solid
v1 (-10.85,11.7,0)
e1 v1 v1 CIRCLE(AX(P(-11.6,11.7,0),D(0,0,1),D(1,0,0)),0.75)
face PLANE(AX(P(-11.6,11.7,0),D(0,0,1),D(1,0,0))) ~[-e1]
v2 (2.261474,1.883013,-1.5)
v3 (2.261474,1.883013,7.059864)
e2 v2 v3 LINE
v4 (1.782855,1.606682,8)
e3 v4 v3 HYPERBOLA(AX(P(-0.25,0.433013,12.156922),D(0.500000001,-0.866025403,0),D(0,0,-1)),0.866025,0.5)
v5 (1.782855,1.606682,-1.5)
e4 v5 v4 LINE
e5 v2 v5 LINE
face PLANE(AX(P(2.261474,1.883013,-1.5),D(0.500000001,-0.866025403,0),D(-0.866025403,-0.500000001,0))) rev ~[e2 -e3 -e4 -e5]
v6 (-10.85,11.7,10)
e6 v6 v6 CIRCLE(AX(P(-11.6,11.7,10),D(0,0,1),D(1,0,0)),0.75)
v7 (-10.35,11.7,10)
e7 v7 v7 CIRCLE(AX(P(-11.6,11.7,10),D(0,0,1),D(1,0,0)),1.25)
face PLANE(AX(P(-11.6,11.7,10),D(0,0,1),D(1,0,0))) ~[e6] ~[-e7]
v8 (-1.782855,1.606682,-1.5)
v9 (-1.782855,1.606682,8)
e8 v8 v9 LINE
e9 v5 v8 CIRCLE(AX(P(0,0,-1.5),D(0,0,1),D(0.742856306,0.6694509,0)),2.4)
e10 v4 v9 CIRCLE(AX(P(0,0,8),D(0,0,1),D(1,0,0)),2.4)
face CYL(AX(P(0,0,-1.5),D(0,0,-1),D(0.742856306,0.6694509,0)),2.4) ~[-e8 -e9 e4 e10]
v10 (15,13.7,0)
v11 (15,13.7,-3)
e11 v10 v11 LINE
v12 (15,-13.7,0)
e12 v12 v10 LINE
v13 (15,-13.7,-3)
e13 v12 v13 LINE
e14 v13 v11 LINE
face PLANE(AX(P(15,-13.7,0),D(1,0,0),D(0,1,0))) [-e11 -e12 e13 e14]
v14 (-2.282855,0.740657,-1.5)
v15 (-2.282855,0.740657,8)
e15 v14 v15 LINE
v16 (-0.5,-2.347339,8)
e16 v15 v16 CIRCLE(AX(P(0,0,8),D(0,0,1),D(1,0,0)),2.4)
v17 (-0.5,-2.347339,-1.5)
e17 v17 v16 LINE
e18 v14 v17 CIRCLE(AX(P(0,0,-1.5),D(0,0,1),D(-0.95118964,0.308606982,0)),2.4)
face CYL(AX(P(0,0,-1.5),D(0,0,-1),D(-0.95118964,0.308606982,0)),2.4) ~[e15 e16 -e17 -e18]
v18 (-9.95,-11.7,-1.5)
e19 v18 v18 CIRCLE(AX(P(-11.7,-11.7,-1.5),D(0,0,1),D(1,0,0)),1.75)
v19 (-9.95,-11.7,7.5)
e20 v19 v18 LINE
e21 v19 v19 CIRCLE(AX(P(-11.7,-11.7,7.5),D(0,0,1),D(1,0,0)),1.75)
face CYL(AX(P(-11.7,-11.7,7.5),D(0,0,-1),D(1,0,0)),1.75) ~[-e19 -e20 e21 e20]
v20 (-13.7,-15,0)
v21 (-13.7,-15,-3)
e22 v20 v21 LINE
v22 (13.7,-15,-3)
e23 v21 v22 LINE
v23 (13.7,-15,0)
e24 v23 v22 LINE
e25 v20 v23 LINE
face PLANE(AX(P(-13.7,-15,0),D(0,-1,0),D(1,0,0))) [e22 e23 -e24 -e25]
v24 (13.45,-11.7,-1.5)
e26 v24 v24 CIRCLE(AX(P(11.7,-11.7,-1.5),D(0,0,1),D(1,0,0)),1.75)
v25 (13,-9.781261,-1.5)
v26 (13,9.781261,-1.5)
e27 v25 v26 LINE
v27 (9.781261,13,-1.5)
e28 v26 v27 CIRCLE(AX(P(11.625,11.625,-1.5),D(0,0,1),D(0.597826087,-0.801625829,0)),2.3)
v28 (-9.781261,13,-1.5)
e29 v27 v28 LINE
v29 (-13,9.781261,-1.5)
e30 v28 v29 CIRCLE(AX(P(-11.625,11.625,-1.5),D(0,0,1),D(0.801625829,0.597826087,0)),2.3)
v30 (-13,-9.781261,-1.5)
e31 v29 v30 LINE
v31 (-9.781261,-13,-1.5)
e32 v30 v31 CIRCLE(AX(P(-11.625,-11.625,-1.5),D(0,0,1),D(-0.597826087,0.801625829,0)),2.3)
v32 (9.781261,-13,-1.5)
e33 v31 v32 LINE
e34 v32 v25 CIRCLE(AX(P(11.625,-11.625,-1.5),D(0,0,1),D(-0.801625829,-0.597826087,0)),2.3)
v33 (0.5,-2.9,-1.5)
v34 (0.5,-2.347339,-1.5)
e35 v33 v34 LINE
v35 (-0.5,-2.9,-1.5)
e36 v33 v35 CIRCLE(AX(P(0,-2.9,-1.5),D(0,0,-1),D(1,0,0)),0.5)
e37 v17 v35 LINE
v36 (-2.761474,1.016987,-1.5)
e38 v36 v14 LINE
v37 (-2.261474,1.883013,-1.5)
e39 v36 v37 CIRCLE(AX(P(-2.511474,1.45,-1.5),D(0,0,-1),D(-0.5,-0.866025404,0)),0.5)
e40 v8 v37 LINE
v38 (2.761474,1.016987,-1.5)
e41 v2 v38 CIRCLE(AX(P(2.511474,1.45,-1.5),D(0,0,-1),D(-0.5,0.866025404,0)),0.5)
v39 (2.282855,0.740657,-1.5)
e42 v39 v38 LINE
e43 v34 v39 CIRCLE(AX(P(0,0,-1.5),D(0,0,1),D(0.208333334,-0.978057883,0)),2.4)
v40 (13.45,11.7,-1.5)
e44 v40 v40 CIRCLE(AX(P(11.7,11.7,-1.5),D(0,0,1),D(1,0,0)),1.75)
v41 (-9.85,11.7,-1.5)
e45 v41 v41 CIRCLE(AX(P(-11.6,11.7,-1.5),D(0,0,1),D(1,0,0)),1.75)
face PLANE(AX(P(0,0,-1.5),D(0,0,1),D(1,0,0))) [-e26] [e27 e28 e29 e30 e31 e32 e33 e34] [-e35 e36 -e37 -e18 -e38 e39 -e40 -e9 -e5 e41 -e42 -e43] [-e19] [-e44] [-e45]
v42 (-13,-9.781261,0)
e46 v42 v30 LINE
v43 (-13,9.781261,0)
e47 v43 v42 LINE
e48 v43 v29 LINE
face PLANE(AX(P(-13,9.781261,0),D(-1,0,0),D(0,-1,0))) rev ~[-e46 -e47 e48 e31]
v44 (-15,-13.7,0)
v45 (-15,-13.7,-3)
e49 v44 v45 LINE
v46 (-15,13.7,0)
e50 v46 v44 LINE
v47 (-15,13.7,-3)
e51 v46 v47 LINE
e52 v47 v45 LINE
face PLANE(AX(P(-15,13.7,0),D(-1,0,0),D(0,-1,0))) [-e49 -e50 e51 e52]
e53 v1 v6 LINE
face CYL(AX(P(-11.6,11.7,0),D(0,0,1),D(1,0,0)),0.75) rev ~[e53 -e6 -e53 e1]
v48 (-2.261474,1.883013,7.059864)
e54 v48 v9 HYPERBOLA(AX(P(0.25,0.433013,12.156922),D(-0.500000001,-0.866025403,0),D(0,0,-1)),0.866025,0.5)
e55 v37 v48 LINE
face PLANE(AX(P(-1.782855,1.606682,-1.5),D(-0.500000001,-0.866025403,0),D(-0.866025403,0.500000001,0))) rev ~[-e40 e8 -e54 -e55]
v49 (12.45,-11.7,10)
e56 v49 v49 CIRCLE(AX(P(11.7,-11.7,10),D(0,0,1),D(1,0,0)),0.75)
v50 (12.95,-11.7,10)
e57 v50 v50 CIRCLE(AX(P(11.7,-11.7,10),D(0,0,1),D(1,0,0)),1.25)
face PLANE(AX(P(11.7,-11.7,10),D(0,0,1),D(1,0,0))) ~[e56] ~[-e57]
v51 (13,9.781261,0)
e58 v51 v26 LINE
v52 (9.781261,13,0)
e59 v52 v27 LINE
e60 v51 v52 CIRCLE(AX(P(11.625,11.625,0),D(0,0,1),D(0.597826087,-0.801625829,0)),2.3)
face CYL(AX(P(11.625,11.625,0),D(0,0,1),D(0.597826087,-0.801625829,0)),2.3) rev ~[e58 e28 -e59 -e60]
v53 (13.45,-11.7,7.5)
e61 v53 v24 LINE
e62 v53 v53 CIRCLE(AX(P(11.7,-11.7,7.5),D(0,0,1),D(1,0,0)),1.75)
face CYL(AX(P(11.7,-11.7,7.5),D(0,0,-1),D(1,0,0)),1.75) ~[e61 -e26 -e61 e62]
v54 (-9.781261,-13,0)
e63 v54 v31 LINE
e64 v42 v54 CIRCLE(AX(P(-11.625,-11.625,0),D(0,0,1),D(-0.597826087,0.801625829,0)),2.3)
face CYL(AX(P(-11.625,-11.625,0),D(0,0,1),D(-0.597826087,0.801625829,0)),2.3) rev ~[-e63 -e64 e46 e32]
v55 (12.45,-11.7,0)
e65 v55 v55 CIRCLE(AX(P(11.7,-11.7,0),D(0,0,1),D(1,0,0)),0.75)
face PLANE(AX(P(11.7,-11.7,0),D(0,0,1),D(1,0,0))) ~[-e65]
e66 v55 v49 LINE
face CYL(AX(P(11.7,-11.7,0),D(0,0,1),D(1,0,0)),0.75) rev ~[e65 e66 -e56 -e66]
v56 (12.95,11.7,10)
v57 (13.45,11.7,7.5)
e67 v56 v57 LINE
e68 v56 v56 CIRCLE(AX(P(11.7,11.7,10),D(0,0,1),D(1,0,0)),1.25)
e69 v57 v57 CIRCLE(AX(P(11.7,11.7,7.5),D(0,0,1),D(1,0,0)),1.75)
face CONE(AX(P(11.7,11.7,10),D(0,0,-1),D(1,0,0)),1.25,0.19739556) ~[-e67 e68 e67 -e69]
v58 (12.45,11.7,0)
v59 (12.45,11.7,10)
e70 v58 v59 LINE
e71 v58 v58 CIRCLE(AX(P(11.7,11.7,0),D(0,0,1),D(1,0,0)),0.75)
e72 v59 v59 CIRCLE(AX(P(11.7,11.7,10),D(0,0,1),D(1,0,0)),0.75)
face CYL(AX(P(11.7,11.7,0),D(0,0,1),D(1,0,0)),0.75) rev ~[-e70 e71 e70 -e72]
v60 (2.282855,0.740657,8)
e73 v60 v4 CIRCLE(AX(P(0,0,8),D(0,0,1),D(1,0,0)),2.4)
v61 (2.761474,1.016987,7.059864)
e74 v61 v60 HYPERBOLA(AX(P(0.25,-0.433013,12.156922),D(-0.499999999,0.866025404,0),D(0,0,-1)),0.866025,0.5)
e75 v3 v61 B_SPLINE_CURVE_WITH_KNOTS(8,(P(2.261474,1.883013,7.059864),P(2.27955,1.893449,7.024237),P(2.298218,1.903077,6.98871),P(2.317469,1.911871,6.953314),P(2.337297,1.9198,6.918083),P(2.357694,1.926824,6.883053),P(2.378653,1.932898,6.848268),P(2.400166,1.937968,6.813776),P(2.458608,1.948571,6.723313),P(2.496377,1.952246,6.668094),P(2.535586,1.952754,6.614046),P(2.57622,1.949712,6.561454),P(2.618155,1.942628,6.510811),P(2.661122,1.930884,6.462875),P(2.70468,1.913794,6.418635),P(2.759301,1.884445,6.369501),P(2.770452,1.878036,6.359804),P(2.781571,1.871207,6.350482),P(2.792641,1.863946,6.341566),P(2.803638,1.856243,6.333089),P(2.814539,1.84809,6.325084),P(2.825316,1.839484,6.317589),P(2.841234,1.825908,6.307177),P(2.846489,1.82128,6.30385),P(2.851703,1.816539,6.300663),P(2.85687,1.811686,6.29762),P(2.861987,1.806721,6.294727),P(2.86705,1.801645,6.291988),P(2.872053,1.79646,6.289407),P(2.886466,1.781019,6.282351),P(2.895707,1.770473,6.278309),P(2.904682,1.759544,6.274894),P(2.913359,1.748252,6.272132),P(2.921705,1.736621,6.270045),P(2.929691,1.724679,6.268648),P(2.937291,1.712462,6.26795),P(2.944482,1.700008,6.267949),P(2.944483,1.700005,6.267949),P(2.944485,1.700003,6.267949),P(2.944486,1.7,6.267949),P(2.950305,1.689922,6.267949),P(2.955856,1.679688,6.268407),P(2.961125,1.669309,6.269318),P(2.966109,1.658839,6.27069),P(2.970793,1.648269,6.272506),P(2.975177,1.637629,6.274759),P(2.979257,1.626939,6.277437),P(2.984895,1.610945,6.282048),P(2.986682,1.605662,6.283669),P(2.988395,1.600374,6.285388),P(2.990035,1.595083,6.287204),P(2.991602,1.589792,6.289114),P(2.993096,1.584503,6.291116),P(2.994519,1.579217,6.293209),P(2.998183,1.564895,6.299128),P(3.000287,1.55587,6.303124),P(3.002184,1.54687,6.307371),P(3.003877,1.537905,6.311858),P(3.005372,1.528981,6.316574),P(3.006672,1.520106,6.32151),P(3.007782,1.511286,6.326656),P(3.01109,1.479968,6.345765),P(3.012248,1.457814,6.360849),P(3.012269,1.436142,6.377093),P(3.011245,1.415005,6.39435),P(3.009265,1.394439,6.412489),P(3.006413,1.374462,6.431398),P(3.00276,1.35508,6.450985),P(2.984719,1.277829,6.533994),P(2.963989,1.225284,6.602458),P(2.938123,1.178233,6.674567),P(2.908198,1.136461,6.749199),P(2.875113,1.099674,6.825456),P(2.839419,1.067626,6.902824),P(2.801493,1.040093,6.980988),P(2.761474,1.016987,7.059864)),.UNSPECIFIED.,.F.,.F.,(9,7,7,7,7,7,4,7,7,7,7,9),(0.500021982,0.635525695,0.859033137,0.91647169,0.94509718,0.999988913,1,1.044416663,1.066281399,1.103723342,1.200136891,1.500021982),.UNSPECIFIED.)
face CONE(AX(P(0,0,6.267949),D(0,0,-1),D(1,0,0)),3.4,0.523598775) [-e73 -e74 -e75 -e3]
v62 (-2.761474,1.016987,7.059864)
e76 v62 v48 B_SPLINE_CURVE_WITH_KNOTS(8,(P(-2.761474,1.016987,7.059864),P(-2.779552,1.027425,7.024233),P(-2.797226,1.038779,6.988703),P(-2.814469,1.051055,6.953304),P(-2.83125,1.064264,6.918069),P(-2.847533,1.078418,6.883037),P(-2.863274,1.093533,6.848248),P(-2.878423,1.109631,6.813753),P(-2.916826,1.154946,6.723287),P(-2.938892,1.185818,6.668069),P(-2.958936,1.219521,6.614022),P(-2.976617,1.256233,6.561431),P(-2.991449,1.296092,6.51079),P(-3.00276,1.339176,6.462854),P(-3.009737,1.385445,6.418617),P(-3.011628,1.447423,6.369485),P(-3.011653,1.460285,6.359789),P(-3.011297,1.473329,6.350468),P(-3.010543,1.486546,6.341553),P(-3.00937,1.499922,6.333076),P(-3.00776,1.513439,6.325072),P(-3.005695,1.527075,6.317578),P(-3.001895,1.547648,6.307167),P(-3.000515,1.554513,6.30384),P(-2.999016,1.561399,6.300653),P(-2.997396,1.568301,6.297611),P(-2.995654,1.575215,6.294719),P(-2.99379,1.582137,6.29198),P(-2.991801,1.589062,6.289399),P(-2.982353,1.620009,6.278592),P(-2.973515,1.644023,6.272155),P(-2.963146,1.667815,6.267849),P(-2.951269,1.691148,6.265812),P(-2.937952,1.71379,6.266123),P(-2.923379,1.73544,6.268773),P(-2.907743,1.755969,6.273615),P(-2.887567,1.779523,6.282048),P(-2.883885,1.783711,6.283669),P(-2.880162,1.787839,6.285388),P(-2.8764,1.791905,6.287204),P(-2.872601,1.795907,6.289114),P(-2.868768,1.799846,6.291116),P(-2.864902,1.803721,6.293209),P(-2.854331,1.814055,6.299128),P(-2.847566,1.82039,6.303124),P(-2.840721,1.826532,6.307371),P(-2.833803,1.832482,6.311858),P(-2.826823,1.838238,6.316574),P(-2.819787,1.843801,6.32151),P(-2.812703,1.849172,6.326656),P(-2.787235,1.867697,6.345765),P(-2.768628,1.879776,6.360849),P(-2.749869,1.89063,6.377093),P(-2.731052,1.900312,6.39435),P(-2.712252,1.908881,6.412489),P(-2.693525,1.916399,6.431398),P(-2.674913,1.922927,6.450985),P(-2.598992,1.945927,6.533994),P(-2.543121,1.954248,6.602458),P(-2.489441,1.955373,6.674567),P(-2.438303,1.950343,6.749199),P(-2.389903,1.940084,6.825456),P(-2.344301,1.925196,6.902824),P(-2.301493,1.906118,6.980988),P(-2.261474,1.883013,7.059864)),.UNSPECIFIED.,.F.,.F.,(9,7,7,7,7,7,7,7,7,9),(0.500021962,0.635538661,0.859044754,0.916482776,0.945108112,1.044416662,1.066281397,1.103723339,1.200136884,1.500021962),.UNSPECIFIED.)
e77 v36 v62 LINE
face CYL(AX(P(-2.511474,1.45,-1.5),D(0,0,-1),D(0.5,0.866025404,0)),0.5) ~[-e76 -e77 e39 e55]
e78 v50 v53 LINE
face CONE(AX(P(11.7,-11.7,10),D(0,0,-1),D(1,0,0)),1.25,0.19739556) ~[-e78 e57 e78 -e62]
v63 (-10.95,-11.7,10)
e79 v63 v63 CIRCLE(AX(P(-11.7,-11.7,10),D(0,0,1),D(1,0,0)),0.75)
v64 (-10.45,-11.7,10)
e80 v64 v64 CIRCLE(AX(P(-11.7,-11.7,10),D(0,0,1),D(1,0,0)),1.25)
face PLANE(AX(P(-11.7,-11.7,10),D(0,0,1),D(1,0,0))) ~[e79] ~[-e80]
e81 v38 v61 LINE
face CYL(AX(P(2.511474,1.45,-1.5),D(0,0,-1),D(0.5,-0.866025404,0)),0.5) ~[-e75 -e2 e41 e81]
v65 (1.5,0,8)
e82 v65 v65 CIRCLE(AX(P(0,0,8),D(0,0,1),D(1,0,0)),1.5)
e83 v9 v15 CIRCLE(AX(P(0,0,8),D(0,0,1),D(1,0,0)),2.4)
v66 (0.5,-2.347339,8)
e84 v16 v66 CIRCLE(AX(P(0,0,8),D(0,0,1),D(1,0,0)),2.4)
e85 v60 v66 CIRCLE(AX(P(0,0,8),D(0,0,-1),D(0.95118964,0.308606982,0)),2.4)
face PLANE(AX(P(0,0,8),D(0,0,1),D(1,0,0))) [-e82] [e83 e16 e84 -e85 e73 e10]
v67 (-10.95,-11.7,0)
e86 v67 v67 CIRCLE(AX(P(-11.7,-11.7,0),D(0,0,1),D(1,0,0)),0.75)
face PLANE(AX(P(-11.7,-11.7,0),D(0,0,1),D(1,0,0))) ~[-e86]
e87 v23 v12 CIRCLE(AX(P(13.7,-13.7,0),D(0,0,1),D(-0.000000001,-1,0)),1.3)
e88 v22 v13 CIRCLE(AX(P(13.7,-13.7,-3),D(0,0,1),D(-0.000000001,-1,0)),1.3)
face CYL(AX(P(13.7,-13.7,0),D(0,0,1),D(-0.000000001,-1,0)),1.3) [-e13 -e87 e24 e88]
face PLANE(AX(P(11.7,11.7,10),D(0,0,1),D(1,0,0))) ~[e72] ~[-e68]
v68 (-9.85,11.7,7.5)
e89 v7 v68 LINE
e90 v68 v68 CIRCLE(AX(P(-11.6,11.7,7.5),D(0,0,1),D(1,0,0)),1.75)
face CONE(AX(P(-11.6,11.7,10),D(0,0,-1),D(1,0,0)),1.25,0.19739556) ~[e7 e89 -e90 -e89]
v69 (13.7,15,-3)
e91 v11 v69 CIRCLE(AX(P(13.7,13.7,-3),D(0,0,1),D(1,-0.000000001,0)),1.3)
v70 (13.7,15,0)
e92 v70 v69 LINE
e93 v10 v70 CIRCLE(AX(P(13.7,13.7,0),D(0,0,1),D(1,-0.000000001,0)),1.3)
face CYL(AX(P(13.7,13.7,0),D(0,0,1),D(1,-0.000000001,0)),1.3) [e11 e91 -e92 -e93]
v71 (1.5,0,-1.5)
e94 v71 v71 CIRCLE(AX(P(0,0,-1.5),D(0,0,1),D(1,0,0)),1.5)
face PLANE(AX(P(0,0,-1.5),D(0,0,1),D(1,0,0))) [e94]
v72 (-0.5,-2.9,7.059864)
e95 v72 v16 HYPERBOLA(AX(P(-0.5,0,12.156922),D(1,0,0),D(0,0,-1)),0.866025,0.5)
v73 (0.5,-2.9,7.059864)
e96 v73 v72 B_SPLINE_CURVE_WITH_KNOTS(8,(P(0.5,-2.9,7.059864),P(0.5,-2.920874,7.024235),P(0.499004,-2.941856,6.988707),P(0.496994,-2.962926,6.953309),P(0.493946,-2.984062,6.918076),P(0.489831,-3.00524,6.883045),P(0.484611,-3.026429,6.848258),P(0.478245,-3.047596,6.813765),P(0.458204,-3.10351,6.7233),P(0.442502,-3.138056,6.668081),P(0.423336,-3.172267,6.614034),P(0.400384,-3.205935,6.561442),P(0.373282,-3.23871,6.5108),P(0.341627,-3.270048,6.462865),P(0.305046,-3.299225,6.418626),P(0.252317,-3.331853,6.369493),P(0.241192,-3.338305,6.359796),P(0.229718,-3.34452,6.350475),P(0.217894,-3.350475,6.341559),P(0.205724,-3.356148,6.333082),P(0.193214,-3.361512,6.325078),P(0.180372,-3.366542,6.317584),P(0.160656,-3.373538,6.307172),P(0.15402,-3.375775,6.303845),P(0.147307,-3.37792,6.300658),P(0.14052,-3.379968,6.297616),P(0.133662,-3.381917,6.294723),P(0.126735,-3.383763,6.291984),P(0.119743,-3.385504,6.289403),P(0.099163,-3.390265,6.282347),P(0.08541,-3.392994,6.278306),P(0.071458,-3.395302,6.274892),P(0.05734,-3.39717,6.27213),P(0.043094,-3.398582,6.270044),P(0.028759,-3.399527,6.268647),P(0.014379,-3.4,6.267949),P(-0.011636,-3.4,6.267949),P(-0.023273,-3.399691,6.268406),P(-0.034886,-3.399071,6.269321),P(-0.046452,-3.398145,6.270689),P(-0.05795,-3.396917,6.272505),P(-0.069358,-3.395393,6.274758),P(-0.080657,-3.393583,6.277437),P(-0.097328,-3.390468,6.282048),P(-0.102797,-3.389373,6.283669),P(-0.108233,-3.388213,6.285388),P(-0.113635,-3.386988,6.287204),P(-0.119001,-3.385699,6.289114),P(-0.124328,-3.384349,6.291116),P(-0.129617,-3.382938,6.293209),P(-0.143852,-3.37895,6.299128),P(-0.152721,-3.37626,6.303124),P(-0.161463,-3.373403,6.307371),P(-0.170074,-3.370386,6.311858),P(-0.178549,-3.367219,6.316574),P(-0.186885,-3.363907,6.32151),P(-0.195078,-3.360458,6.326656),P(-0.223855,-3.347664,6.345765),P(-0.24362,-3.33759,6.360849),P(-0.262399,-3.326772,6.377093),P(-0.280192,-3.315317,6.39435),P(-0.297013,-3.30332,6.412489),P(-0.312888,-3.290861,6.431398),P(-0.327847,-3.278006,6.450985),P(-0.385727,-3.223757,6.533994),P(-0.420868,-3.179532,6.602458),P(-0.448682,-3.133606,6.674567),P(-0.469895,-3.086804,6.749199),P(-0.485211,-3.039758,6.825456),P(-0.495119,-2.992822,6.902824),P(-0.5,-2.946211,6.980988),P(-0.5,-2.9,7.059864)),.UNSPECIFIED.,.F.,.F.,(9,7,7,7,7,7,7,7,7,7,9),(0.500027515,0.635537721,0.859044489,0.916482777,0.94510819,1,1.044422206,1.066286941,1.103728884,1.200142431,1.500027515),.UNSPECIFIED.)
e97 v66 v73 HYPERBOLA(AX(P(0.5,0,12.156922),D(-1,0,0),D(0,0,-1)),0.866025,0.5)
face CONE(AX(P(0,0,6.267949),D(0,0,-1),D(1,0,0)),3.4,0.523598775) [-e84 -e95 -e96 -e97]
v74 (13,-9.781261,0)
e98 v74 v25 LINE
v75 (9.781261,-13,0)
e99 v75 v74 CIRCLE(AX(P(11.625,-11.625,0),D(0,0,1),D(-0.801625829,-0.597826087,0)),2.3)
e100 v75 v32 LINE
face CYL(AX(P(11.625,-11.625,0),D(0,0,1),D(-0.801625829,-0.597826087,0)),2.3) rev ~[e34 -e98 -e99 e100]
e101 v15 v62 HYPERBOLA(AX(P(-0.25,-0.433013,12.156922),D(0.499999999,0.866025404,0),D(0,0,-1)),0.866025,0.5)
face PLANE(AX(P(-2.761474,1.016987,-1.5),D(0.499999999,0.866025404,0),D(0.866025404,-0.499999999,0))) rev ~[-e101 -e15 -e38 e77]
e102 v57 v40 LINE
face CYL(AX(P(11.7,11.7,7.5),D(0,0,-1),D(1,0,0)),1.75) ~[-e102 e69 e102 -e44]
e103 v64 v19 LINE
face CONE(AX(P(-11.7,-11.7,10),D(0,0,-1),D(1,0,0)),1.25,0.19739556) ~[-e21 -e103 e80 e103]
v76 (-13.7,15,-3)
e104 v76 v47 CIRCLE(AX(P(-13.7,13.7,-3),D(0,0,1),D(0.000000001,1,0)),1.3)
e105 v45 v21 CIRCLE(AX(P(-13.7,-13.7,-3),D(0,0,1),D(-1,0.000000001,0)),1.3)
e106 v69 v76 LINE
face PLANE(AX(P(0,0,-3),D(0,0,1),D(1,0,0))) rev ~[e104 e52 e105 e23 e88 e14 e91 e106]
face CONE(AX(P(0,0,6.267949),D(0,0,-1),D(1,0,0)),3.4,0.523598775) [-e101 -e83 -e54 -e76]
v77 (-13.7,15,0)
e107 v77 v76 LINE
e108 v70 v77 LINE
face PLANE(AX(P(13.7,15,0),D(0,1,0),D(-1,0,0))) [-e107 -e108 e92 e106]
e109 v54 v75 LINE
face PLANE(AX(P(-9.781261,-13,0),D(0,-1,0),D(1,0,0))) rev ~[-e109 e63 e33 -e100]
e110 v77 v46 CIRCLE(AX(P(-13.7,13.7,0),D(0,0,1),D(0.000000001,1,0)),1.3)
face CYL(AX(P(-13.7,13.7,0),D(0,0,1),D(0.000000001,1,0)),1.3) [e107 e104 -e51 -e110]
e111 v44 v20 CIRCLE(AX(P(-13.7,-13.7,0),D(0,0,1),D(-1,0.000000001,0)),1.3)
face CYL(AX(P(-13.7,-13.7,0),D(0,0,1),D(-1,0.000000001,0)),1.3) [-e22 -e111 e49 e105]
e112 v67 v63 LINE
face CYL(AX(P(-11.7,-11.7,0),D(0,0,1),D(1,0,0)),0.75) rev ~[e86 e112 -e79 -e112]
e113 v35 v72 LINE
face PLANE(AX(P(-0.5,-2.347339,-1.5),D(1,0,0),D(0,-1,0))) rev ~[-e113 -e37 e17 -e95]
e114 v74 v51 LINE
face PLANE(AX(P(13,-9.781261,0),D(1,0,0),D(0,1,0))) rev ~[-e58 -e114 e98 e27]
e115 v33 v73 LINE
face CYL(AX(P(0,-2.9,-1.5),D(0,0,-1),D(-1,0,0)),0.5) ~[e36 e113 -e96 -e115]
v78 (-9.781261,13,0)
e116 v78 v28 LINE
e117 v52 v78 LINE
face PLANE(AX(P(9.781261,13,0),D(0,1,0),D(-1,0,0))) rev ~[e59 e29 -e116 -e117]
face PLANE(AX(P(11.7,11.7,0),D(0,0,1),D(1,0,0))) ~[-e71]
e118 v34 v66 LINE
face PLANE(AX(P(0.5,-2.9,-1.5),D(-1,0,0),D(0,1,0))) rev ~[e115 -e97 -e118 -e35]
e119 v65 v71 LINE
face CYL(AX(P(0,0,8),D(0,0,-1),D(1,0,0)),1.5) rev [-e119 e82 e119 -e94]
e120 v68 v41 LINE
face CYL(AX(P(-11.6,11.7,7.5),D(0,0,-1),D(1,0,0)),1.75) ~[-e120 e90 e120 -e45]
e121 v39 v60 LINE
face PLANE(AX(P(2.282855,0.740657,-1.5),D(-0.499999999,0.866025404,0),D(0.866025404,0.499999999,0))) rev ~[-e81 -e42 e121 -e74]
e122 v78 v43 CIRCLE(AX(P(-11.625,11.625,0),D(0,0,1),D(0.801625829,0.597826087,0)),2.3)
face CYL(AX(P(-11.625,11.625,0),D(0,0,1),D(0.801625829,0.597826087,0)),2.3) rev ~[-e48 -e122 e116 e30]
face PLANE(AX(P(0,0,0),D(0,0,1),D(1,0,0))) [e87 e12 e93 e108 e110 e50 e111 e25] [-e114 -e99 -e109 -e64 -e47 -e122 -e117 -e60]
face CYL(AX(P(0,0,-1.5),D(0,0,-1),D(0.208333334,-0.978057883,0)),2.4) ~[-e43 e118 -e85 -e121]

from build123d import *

# Parameters (mm, degrees)
BOSS_EXTRUDE1_DEPTH = 3
CUT_EXTRUDE1_DEPTH  = 1.5
SKETCH8_R           = 6
CUT_EXTRUDE2_DEPTH  = 10


with BuildPart() as part:
    # Sketch1 → Boss-Extrude1 (new body)
    with BuildSketch(Plane.XY):
        with BuildLine():
            Line((-15, 13.7), (-15, -13.7))
            ThreePointArc((-15, -13.7), (-14.619238816, -14.619238816), (-13.7, -15))
            Line((-13.7, -15), (13.7, -15))
            ThreePointArc((13.7, -15), (14.619238816, -14.619238816), (15, -13.7))
            Line((15, -13.7), (15, 13.7))
            ThreePointArc((15, 13.7), (14.619238816, 14.619238816), (13.7, 15))
            Line((13.7, 15), (-13.7, 15))
            ThreePointArc((-13.7, 15), (-14.619238816, 14.619238816), (-15, 13.7))
        make_face()
    extrude(amount=-BOSS_EXTRUDE1_DEPTH)

    # Sketch2 → Cut-Extrude1 (cut)
    with BuildSketch(Plane.XY):
        with BuildLine():
            Line((-13, 9.781260593), (-13, -9.781260593))
            ThreePointArc((-13, -9.781260593), (-13.251345597, -13.251345597), (-9.781260593, -13))
            Line((-9.781260593, -13), (9.781260593, -13))
            ThreePointArc((9.781260593, -13), (13.251345597, -13.251345597), (13, -9.781260593))
            Line((13, -9.781260593), (13, 9.781260593))
            ThreePointArc((13, 9.781260593), (13.251345597, 13.251345597), (9.781260593, 13))
            Line((9.781260593, 13), (-9.781260593, 13))
            ThreePointArc((-9.781260593, 13), (-13.251345597, 13.251345597), (-13, 9.781260593))
        make_face()
    extrude(amount=-CUT_EXTRUDE1_DEPTH, mode=Mode.SUBTRACT)

    # Sketch3 → Revolve1 (revolve)
    with BuildSketch(Plane(origin=(-11.6, 0, 0), x_dir=(0, 0, -1), z_dir=(1, 0, 0)), mode=Mode.PRIVATE) as revolve1_sk:
        Polygon((0, 11.7), (0, 12.45), (-10, 12.45), (-10, 12.95), (-7.5, 13.45), (1.5, 13.45), (1.5, 11.7), align=None)
    revolve(revolve1_sk.sketch.rotate(Axis((-11.6, 11.7, -1.5), (0, 0, 1)), 270), axis=Axis((-11.6, 11.7, -1.5), (0, 0, 1)))

    # Sketch4 → Revolve2 (revolve)
    with BuildSketch(Plane(origin=(11.7, 0, 0), x_dir=(0, 0, -1), z_dir=(1, 0, 0)), mode=Mode.PRIVATE) as revolve2_sk:
        Polygon((0, 11.7), (0, 12.45), (-10, 12.45), (-10, 12.95), (-7.5, 13.45), (1.5, 13.45), (1.5, 11.7), align=None)
    revolve(revolve2_sk.sketch.rotate(Axis((11.7, 11.7, -1.5), (0, 0, 1)), 270), axis=Axis((11.7, 11.7, -1.5), (0, 0, 1)))

    # Sketch5 → Revolve3 (revolve)
    with BuildSketch(Plane(origin=(11.7, 0, 0), x_dir=(0, 0, -1), z_dir=(1, 0, 0)), mode=Mode.PRIVATE) as revolve3_sk:
        Polygon((0, -11.7), (0, -10.95), (-10, -10.95), (-10, -10.45), (-7.5, -9.95), (1.5, -9.95), (1.5, -11.7), align=None)
    revolve(revolve3_sk.sketch.rotate(Axis((11.7, -11.7, -1.5), (0, 0, 1)), 270), axis=Axis((11.7, -11.7, -1.5), (0, 0, 1)))

    # Sketch6 → Revolve4 (revolve)
    with BuildSketch(Plane(origin=(-11.7, 0, 0), x_dir=(0, 0, -1), z_dir=(1, 0, 0)), mode=Mode.PRIVATE) as revolve4_sk:
        Polygon((0, -11.7), (0, -10.95), (-10, -10.95), (-10, -10.45), (-7.5, -9.95), (1.5, -9.95), (1.5, -11.7), align=None)
    revolve(revolve4_sk.sketch.rotate(Axis((-11.7, -11.7, -1.5), (0, 0, 1)), 270), axis=Axis((-11.7, -11.7, -1.5), (0, 0, 1)))

    # Sketch7 → Revolve5 (revolve)
    with BuildSketch(Plane(origin=(0, 0, 0), x_dir=(0, 0, -1), z_dir=(1, 0, 0)), mode=Mode.PRIVATE) as revolve5_sk:
        Polygon((-8, 1.5), (1.5, 1.5), (1.5, 3.4), (-6.267949192, 3.4), (-8, 2.4), align=None)
    revolve(revolve5_sk.sketch.rotate(Axis((0, 0, -10), (0, 0, 1)), 270), axis=Axis((0, 0, -10), (0, 0, 1)))

    # Sketch8 → Cut-Extrude2 (cut)
    with BuildSketch(Plane.XY.offset(-1.5)):
        Circle(SKETCH8_R)
        with BuildLine():
            Line((-2.761473671, 1.016987298), (-2.282855135, 0.740656758))
            ThreePointArc((-2.282855135, 0.740656758), (-2.078460969, -1.2), (-0.5, -2.347338919))
            Line((-0.5, -2.347338919), (-0.5, -2.9))
            ThreePointArc((-0.5, -2.9), (0, -3.4), (0.5, -2.9))
            Line((0.5, -2.9), (0.5, -2.347338919))
            ThreePointArc((0.5, -2.347338919), (2.078460969, -1.2), (2.282855135, 0.740656758))
            Line((2.282855135, 0.740656758), (2.761473671, 1.016987298))
            ThreePointArc((2.761473671, 1.016987298), (2.944486373, 1.7), (2.261473671, 1.883012702))
            Line((2.261473671, 1.883012702), (1.782855135, 1.606682161))
            ThreePointArc((1.782855135, 1.606682161), (0, 2.4), (-1.782855135, 1.606682161))
            Line((-1.782855135, 1.606682161), (-2.261473671, 1.883012702))
            ThreePointArc((-2.261473671, 1.883012702), (-2.944486373, 1.7), (-2.761473671, 1.016987298))
        make_face(mode=Mode.SUBTRACT)
    extrude(amount=CUT_EXTRUDE2_DEPTH, mode=Mode.SUBTRACT)


solid = part.part
